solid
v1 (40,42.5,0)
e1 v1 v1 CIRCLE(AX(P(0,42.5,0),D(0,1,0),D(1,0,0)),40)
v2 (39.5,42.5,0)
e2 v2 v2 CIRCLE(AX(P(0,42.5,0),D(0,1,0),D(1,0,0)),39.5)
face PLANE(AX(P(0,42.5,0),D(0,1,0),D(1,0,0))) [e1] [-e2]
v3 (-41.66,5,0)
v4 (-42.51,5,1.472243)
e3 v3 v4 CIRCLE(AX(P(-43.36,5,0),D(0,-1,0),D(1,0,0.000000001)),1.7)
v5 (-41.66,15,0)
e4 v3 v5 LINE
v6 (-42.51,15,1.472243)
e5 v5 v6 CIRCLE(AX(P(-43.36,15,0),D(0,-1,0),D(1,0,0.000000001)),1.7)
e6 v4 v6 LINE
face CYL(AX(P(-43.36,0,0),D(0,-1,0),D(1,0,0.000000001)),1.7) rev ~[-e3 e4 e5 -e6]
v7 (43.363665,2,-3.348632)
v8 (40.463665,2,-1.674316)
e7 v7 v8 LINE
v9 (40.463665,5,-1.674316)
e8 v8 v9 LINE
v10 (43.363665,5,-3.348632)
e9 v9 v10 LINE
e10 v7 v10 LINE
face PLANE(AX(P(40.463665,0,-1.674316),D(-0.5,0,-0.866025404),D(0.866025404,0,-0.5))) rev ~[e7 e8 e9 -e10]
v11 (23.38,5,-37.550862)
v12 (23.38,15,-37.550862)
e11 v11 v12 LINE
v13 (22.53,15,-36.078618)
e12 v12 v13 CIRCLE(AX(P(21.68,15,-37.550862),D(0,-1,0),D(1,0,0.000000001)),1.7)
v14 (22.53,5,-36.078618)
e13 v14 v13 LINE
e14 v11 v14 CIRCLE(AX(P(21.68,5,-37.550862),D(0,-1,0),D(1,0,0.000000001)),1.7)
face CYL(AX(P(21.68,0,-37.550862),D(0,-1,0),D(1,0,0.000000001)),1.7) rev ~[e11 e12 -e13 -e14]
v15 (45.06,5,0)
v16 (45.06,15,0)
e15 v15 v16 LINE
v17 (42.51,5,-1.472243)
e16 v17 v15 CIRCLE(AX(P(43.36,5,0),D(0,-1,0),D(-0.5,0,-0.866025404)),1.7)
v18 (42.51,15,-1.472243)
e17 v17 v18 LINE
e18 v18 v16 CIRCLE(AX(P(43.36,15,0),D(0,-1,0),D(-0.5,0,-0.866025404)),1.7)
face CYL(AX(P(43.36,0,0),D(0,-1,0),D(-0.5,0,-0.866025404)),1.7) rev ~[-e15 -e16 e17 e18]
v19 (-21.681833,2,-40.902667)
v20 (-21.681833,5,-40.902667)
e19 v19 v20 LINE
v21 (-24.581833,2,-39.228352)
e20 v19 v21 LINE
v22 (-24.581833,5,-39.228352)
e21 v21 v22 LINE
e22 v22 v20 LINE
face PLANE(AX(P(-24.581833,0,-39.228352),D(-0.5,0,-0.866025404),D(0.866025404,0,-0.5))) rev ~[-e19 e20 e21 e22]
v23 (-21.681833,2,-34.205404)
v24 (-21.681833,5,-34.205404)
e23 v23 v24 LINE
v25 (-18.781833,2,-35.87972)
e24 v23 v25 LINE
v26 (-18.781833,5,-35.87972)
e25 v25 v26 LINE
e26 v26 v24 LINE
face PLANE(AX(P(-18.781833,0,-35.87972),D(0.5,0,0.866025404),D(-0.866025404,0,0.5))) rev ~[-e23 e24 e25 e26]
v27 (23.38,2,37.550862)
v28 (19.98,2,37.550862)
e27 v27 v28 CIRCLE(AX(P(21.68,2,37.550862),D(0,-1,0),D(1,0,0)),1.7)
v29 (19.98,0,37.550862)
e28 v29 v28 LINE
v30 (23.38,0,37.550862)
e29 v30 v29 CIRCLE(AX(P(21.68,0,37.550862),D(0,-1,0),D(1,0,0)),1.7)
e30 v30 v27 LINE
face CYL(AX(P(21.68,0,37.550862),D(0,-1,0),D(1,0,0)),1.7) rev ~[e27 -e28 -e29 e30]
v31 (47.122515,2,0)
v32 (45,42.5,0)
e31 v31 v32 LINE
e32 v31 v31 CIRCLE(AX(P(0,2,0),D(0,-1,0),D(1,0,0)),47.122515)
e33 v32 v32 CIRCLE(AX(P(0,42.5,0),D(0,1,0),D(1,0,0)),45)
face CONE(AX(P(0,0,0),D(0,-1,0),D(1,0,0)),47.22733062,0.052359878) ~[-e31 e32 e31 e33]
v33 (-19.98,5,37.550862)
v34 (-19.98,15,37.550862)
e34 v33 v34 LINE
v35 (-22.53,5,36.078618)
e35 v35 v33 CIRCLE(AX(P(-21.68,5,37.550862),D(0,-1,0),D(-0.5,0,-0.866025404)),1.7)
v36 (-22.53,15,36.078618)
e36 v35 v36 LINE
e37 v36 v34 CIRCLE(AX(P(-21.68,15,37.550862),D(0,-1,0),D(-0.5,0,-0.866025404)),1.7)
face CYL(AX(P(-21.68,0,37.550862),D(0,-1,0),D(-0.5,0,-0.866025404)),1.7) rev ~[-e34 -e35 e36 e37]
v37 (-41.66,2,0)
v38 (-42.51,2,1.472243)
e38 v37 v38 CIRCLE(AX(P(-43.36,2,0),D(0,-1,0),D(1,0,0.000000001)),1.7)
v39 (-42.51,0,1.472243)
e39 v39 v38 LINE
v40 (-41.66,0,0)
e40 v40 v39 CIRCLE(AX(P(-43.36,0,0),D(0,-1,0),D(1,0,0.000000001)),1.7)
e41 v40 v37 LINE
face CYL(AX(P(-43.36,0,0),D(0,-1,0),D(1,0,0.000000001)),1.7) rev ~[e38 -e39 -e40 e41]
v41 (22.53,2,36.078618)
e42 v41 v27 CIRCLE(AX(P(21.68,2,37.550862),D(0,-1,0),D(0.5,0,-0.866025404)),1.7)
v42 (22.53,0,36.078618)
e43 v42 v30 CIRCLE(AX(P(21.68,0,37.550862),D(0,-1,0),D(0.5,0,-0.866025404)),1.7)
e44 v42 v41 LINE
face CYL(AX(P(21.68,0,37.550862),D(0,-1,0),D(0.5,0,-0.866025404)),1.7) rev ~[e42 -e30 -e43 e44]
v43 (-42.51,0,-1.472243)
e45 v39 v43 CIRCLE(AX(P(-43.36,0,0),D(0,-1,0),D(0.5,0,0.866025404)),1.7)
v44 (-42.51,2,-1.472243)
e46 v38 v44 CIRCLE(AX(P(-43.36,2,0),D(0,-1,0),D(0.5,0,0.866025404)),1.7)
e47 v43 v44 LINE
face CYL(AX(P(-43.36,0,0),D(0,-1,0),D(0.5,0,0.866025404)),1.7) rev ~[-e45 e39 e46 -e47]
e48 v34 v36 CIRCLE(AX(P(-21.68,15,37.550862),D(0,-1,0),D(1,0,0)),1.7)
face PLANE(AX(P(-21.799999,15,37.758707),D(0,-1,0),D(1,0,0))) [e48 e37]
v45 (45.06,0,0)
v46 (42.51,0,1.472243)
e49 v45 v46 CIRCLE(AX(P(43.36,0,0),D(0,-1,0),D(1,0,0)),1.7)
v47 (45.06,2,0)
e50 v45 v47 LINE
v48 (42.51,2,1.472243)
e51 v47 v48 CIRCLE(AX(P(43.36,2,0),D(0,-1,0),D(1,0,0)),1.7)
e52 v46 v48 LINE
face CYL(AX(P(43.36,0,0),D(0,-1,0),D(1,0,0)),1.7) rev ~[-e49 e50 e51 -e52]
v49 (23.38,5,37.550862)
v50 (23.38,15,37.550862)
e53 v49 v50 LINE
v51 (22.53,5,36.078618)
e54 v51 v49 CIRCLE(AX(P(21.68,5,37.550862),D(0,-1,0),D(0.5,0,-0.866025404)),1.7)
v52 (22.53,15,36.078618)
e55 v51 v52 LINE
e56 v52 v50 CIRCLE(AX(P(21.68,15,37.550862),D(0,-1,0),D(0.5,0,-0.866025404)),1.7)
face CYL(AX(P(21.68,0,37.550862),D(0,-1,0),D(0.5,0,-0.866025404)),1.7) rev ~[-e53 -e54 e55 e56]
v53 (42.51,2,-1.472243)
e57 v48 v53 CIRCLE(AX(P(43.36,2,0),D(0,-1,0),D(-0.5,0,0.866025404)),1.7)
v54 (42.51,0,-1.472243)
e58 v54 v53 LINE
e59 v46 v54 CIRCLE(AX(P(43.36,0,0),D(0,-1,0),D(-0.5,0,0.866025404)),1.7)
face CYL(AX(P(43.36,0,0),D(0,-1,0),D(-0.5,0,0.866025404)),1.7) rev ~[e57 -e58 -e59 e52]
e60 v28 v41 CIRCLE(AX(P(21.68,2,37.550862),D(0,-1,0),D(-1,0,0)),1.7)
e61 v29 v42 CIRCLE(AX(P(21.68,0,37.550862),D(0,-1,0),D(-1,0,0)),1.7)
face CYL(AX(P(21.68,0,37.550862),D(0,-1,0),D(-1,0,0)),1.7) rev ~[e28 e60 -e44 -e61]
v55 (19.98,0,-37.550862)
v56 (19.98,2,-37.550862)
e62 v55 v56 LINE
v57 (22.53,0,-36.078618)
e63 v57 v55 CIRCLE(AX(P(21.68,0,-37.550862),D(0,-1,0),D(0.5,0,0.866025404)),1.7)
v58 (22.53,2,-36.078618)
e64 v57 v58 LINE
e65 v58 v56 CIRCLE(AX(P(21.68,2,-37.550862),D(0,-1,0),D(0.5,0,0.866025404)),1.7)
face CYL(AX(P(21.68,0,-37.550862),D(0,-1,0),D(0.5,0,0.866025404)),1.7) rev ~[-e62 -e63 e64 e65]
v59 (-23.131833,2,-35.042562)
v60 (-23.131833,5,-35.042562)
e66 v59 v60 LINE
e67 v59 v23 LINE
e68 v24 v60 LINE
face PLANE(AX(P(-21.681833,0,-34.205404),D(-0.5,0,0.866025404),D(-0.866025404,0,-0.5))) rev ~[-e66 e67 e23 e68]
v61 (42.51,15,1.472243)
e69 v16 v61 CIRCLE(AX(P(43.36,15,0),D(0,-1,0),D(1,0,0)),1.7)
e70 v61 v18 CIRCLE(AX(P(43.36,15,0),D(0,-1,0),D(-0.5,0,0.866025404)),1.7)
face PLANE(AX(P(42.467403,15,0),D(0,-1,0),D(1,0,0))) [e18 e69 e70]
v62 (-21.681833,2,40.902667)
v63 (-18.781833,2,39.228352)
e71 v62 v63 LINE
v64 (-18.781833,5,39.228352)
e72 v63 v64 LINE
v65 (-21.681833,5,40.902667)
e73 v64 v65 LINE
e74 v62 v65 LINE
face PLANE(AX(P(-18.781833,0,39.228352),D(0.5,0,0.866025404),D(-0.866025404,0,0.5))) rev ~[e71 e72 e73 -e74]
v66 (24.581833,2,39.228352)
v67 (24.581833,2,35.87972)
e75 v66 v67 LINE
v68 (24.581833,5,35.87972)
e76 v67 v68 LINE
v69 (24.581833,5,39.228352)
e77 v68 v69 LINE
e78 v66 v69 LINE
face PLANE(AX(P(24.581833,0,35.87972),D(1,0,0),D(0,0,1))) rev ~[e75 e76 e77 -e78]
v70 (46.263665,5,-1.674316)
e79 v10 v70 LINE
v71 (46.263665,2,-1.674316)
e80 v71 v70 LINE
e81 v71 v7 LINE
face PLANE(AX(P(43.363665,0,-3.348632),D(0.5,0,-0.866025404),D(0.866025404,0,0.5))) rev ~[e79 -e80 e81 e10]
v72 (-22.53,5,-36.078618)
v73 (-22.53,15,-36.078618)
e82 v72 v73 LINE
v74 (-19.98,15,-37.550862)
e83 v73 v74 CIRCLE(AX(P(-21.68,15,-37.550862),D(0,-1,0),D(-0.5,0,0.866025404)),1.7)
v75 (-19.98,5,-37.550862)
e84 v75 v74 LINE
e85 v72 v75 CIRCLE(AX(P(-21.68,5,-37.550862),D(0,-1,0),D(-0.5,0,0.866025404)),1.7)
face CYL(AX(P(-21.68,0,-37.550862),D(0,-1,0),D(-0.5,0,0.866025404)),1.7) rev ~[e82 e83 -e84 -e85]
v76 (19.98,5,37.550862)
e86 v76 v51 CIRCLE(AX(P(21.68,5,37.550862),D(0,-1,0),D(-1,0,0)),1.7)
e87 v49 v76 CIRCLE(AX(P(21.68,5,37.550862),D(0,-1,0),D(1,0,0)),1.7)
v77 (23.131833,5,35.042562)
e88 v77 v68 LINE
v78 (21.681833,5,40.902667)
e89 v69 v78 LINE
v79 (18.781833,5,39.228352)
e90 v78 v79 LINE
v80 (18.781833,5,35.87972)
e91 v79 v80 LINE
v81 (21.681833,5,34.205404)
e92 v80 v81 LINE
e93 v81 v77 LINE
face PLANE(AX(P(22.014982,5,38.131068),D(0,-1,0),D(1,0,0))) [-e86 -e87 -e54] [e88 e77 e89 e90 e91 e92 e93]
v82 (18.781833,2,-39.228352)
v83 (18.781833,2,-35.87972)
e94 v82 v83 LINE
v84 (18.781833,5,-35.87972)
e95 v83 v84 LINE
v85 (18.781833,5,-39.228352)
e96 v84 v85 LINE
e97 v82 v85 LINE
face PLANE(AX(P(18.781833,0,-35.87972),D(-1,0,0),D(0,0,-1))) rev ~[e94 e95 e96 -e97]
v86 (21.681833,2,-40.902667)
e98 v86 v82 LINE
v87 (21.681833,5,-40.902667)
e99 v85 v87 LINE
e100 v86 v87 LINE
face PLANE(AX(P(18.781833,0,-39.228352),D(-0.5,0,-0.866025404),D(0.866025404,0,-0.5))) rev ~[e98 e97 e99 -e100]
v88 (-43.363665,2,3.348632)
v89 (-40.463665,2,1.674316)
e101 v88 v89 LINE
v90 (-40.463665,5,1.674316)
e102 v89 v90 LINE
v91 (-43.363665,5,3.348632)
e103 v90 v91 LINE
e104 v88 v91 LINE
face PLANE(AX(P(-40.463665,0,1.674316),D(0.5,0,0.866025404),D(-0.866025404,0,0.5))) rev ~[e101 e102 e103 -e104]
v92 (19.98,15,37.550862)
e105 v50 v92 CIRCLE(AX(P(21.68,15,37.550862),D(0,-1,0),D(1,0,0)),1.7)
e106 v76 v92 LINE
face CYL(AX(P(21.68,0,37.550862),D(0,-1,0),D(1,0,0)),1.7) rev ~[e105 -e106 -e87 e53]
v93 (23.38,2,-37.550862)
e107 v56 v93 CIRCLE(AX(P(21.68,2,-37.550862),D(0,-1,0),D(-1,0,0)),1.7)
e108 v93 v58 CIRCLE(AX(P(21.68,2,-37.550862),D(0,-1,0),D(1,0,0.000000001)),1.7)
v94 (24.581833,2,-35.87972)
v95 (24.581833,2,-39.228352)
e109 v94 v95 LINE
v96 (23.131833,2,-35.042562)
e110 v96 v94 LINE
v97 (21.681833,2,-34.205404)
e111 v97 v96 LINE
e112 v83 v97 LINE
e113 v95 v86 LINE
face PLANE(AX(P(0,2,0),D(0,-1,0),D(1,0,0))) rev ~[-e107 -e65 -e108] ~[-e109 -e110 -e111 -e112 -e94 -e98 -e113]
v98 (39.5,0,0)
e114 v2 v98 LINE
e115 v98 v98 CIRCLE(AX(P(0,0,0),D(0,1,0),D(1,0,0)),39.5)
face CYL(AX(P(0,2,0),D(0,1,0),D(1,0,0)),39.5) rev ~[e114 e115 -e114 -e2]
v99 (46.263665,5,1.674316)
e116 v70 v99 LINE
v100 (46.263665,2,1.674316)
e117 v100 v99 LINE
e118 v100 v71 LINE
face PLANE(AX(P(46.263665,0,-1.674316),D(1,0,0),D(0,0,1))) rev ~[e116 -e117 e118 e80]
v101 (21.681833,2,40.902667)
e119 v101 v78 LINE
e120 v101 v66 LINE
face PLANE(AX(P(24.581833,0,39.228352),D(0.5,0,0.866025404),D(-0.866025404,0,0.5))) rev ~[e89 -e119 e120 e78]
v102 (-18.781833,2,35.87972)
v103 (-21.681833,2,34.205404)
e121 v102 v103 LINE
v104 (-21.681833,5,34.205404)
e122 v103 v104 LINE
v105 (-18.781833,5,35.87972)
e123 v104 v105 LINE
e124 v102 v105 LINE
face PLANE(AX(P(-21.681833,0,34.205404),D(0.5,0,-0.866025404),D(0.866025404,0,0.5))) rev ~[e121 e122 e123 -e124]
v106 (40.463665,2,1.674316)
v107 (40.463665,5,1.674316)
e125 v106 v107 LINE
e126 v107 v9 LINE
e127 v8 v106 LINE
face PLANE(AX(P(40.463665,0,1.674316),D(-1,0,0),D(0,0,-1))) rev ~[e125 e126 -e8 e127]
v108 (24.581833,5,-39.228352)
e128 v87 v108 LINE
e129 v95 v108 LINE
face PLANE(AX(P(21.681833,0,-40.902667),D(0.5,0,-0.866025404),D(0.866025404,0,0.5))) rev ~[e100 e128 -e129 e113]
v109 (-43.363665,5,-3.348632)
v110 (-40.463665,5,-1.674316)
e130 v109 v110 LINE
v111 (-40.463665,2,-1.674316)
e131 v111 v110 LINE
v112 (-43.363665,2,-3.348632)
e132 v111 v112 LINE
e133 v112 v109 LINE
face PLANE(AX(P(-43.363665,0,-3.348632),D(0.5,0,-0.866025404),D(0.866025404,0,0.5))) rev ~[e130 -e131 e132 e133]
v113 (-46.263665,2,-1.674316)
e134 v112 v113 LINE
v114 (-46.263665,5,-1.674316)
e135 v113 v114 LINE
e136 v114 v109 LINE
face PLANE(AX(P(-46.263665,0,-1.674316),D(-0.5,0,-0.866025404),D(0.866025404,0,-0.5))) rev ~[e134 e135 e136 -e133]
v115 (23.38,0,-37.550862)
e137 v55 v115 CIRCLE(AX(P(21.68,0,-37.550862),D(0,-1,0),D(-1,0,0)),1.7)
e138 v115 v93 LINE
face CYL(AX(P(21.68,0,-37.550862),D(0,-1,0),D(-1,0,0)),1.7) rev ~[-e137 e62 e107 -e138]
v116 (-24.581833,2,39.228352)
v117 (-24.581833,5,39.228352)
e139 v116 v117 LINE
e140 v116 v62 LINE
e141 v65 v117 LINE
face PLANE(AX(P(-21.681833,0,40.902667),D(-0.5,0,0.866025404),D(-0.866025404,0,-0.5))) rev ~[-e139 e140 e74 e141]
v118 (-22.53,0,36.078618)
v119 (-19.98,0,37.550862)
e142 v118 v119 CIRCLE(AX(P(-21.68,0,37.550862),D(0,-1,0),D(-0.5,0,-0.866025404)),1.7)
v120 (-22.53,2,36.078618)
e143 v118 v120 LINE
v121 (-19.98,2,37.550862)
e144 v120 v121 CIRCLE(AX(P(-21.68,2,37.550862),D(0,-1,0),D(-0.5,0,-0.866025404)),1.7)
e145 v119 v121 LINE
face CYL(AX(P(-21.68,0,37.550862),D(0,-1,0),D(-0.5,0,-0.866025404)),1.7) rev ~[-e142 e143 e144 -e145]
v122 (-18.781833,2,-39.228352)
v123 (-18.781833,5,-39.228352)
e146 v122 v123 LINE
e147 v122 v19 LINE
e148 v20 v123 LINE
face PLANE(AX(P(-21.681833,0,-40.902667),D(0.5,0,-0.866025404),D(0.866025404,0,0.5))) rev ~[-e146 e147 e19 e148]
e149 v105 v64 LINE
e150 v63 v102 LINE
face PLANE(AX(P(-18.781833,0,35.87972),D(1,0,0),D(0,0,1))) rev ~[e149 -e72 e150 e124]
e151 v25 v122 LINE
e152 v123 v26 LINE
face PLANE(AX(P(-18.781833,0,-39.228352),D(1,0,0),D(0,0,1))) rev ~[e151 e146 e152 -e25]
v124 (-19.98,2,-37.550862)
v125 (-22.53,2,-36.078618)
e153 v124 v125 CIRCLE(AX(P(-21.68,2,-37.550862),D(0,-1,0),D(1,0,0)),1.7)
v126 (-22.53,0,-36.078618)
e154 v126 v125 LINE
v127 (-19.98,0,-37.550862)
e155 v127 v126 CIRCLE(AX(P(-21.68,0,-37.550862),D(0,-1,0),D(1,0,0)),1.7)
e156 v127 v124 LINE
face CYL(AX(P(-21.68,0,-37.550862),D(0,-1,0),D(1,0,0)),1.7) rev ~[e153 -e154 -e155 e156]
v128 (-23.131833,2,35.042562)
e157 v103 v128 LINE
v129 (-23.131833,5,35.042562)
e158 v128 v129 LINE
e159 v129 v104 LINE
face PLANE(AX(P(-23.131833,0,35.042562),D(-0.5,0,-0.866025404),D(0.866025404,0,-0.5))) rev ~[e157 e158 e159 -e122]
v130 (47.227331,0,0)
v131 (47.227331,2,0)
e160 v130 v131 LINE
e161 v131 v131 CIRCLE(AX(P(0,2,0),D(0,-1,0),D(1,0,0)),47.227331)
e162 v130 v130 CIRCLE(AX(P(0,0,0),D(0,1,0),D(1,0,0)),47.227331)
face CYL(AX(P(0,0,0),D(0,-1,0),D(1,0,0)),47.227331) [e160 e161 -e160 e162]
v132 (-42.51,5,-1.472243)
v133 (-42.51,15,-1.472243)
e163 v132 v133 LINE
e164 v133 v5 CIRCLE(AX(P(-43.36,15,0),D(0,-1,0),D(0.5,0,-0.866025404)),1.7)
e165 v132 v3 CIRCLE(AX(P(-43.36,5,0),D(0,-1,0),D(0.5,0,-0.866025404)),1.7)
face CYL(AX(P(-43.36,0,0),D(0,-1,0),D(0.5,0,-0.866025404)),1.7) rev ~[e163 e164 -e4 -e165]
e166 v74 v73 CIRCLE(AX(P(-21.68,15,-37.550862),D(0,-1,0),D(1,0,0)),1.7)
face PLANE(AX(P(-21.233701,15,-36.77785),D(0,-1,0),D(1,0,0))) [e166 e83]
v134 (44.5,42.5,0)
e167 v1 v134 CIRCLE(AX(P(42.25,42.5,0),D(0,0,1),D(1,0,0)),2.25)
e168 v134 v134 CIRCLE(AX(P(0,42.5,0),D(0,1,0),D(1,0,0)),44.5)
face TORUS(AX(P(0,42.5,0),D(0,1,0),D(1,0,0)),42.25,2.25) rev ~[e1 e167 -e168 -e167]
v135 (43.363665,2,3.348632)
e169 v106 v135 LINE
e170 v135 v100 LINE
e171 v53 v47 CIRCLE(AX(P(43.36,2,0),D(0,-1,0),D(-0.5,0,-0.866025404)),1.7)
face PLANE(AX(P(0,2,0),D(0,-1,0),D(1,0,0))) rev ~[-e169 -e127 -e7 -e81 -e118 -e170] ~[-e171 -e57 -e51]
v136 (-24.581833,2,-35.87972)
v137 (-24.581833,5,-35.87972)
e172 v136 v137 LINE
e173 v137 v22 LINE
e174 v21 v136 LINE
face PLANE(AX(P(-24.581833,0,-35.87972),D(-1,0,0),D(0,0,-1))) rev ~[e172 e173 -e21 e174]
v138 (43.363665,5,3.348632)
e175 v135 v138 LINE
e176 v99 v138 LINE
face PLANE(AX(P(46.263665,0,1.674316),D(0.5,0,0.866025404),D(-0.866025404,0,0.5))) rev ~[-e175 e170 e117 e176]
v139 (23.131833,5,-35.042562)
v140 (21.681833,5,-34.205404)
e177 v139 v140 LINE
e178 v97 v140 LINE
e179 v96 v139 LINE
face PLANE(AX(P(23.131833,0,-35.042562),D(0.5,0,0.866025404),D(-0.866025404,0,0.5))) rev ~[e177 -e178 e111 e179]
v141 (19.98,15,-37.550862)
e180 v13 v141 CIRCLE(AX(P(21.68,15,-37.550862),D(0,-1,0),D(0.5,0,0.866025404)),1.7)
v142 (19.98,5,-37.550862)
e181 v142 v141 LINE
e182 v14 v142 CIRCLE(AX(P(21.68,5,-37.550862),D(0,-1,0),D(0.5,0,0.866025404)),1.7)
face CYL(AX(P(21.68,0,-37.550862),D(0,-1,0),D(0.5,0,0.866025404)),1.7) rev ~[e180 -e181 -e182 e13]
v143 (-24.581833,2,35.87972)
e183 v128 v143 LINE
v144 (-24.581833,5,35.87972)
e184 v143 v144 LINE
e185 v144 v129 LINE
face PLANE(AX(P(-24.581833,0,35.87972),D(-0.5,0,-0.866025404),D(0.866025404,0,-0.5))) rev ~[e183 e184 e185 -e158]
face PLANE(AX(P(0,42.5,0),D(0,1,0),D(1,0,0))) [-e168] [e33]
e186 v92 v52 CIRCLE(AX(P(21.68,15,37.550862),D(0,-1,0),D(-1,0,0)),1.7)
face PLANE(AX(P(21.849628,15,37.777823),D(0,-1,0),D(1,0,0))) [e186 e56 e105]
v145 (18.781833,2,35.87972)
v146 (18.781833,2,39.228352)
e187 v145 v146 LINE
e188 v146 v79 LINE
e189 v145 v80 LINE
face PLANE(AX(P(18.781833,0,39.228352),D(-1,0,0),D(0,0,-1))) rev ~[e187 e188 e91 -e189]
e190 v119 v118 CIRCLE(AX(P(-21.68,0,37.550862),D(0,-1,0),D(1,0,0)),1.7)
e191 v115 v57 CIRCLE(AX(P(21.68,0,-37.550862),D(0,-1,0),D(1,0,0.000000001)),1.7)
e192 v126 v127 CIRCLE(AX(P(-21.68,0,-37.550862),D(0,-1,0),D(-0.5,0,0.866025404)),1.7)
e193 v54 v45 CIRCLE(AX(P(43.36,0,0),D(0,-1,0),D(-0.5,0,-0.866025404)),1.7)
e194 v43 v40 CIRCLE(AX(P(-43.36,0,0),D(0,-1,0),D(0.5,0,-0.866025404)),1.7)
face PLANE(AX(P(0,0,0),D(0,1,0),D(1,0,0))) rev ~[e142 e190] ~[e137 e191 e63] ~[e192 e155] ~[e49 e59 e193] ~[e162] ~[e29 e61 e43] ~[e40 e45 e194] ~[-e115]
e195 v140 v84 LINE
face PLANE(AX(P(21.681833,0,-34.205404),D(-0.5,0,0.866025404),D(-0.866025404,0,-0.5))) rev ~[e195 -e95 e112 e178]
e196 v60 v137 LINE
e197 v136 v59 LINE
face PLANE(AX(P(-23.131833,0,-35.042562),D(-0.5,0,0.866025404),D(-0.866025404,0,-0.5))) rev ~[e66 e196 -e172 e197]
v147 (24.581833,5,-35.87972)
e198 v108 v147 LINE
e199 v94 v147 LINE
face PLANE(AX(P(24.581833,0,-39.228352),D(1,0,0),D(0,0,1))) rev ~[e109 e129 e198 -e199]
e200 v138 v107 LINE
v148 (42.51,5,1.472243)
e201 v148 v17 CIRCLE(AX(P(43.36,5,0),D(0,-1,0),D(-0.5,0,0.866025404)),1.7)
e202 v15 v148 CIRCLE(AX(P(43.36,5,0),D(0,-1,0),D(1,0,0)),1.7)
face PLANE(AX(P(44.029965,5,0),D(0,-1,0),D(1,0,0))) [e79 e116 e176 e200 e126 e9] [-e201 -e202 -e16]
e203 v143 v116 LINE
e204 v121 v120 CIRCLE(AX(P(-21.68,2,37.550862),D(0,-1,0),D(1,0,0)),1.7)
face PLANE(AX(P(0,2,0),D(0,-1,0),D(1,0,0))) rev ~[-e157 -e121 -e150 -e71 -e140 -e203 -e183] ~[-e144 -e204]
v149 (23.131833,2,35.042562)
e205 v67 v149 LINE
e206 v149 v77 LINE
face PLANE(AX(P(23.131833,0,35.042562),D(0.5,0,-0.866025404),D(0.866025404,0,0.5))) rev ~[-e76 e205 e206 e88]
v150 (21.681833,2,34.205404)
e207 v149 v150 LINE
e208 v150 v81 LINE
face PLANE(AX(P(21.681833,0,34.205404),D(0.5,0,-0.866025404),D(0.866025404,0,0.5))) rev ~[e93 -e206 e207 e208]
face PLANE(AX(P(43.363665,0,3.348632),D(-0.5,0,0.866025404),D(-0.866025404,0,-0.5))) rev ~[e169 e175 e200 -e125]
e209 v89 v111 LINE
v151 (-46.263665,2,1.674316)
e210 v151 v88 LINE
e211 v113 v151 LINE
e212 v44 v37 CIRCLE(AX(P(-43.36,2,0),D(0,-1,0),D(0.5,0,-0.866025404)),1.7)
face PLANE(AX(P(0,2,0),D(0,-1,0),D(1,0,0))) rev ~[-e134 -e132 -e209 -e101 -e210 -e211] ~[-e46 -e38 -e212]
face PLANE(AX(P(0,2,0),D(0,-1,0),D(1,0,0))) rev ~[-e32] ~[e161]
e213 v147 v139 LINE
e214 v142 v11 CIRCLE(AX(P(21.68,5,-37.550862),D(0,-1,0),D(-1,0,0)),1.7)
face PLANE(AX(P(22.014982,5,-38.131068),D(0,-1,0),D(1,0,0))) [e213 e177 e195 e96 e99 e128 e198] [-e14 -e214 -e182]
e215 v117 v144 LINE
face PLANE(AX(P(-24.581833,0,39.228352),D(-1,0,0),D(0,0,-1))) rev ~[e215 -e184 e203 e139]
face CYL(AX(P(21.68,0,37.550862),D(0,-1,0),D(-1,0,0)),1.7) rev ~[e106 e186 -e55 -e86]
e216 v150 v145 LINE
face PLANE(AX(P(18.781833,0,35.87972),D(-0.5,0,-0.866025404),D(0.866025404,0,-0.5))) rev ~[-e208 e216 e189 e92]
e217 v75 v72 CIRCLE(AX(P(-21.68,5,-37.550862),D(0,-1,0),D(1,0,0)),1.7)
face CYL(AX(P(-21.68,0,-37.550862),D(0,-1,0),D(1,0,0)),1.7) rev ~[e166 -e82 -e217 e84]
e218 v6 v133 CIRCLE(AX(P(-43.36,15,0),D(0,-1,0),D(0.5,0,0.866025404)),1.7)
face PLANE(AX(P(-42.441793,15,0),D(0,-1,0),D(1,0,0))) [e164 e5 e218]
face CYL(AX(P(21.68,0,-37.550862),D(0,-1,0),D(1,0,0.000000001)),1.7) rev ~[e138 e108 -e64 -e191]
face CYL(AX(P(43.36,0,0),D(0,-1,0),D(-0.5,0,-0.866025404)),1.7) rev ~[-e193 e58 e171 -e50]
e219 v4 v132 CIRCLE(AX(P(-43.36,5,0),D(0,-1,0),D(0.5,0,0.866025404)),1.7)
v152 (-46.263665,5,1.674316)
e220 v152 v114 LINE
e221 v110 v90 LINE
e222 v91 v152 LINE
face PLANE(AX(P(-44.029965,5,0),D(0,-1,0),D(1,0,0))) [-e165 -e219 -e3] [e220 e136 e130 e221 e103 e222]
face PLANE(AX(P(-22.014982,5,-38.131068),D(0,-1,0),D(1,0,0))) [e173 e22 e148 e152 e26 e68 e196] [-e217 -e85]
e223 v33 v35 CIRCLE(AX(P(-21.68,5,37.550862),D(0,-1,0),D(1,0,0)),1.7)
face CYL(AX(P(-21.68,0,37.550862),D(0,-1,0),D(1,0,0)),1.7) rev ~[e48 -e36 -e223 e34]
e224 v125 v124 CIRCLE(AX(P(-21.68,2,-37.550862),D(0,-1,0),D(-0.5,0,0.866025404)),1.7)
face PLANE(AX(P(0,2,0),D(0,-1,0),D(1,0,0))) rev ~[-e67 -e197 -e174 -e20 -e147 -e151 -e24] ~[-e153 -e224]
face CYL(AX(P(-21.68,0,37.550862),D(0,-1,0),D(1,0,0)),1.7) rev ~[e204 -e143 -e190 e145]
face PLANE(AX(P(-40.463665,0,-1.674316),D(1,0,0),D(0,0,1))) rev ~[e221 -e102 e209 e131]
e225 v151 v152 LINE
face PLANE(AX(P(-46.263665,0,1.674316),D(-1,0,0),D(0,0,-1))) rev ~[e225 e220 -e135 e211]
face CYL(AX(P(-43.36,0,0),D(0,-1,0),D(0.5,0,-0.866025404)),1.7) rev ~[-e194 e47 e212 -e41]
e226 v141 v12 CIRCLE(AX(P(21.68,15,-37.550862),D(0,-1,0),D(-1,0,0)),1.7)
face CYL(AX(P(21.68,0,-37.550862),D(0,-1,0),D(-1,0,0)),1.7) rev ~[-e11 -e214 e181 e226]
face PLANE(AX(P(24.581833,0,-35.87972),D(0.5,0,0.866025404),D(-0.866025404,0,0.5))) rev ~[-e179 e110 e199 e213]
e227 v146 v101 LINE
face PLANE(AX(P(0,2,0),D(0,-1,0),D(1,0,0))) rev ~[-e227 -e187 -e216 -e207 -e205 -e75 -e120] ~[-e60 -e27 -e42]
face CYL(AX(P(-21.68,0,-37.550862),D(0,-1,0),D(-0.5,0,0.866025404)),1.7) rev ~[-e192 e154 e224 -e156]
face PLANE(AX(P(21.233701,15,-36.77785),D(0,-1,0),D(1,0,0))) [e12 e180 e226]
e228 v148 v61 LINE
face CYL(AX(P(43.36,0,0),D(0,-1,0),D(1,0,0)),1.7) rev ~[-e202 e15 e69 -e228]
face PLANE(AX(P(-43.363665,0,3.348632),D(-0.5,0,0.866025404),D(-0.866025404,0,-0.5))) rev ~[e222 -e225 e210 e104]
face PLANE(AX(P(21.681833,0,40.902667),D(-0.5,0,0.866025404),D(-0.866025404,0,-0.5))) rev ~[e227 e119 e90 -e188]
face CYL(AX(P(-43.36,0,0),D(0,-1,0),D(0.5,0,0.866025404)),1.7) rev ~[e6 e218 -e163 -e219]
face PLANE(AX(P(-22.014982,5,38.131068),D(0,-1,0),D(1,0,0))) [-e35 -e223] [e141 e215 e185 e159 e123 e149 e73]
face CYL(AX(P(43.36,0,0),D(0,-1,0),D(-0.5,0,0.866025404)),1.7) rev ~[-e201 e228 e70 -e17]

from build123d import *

# Parameters (mm, degrees)
SKETCH1_R            = 45
BOSS_EXTRUDE1_DEPTH  = 42.5
SKETCH2_R            = 39.5
CUT_EXTRUDE1_DEPTH   = 148
DRAFT2_ANGLE         = 3
CUT_EXTRUDE2_DEPTH   = 5
SKETCH7_R            = 47.22733062
BOSS_EXTRUDE2_DEPTH  = 2
SKETCH8_R            = 39.5
CUT_EXTRUDE3_DEPTH   = 66
CUT_EXTRUDE4_DEPTH   = 15
CUT_SWEEP1_PROFILE_R = 2.25


with BuildPart() as part:
    # Sketch1 → Boss-Extrude1 (new body)
    with BuildSketch(Plane(origin=(0, 0, 0), x_dir=(1, 0, 0), z_dir=(0, 1, 0))):
        Circle(SKETCH1_R)
    extrude(amount=BOSS_EXTRUDE1_DEPTH)

    # Sketch2 → Cut-Extrude1 (cut)
    with BuildSketch(Plane(origin=(0, 42.5, 0), x_dir=(1, 0, 0), z_dir=(0, 1, 0))):
        Circle(SKETCH2_R)
    extrude(amount=-CUT_EXTRUDE1_DEPTH, mode=Mode.SUBTRACT)

    # Draft2
    draft2_faces = [part.faces().sort_by_distance(p)[0] for p in [
        (-45, 21.25, 0),
    ]]
    draft(draft2_faces, Plane.ZX.offset(42.5), DRAFT2_ANGLE)

    # Sketch6 → Cut-Extrude2 (cut)
    with BuildSketch(Plane.XZ):
        Polygon((-24.581832655, 35.879719979), (-23.131832655, 35.042562088), (-21.681832655, 37.554035759), (-18.781832655, 37.554035759), (-18.781832655, 39.22835154), (-21.681832655, 40.902667321), (-24.581832655, 39.22835154), align=None)
        Polygon((18.781832655, 39.22835154), (18.781832655, 37.554035759), (21.681832655, 37.554035759), (23.131832655, 35.042562088), (24.581832655, 35.879719979), (24.581832655, 39.22835154), (21.681832655, 40.902667321), align=None)
        Polygon((43.36366531, 0), (41.91366531, -2.511473671), (43.36366531, -3.348631561), (46.26366531, -1.674315781), (46.26366531, 1.674315781), (43.36366531, 3.348631561), (41.91366531, 2.511473671), align=None)
        Polygon((21.681832655, -37.554035759), (18.781832655, -37.554035759), (18.781832655, -39.22835154), (21.681832655, -40.902667321), (24.581832655, -39.22835154), (24.581832655, -35.879719979), (23.131832655, -35.042562088), align=None)
        Polygon((-21.681832655, -37.554035759), (-23.131832655, -35.042562088), (-24.581832655, -35.879719979), (-24.581832655, -39.22835154), (-21.681832655, -40.902667321), (-18.781832655, -39.22835154), (-18.781832655, -37.554035759), align=None)
        Polygon((-41.91366531, -2.511473671), (-43.36366531, 0), (-41.91366531, 2.511473671), (-43.36366531, 3.348631561), (-46.26366531, 1.674315781), (-46.26366531, -1.674315781), (-43.36366531, -3.348631561), align=None)
        Polygon((-41.91366531, 2.511473671), (-43.36366531, 0), (-41.91366531, -2.511473671), (-40.46366531, -1.674315781), (-40.46366531, 1.674315781), align=None)
        Polygon((-21.681832655, 37.554035759), (-23.131832655, 35.042562088), (-21.681832655, 34.205404198), (-18.781832655, 35.879719979), (-18.781832655, 37.554035759), align=None)
        Polygon((21.681832655, 37.554035759), (18.781832655, 37.554035759), (18.781832655, 35.879719979), (21.681832655, 34.205404198), (23.131832655, 35.042562088), align=None)
        Polygon((40.46366531, -1.674315781), (41.91366531, -2.511473671), (43.36366531, 0), (41.91366531, 2.511473671), (40.46366531, 1.674315781), align=None)
        Polygon((18.781832655, -35.879719979), (18.781832655, -37.554035759), (21.681832655, -37.554035759), (23.131832655, -35.042562088), (21.681832655, -34.205404198), align=None)
        Polygon((-21.681832655, -34.205404198), (-23.131832655, -35.042562088), (-21.681832655, -37.554035759), (-18.781832655, -37.554035759), (-18.781832655, -35.879719979), align=None)
    extrude(amount=-CUT_EXTRUDE2_DEPTH, mode=Mode.SUBTRACT)

    # Sketch7 → Boss-Extrude2 (add)
    with BuildSketch(Plane.XZ):
        Circle(SKETCH7_R)
    extrude(amount=-BOSS_EXTRUDE2_DEPTH)

    # Sketch8 → Cut-Extrude3 (cut)
    with BuildSketch(Plane(origin=(0, 2, 0), x_dir=(1, 0, 0), z_dir=(0, 1, 0))):
        Circle(SKETCH8_R)
    extrude(amount=-CUT_EXTRUDE3_DEPTH, mode=Mode.SUBTRACT)

    # Sketch9 → Cut-Extrude4 (cut)
    with BuildSketch(Plane.XZ):
        with BuildLine():
            Line((-42.51, 1.472243186), (-43.36, 0))
            Line((-43.36, 0), (-42.51, -1.472243186))
            ThreePointArc((-42.51, -1.472243186), (-41.887756814, -0.85), (-41.66, 0))
            ThreePointArc((-41.66, 0), (-41.887756814, 0.85), (-42.51, 1.472243186))
        make_face()
        with BuildLine():
            Line((-42.51, -1.472243186), (-43.36, 0))
            Line((-43.36, 0), (-42.51, 1.472243186))
            ThreePointArc((-42.51, 1.472243186), (-45.06, 0), (-42.51, -1.472243186))
        make_face()
        with BuildLine():
            ThreePointArc((-19.98, 37.550861508), (-22.53, 39.023104695), (-22.53, 36.078618322))
            Line((-22.53, 36.078618322), (-21.68, 37.550861508))
            Line((-21.68, 37.550861508), (-19.98, 37.550861508))
        make_face()
        with BuildLine():
            Line((-21.68, 37.550861508), (-22.53, 36.078618322))
            ThreePointArc((-22.53, 36.078618322), (-20.83, 36.078618322), (-19.98, 37.550861508))
            Line((-19.98, 37.550861508), (-21.68, 37.550861508))
        make_face()
        with BuildLine():
            ThreePointArc((23.38, 37.550861508), (21.68, 39.250861508), (19.98, 37.550861508))
            Line((19.98, 37.550861508), (21.68, 37.550861508))
            Line((21.68, 37.550861508), (22.53, 36.078618322))
            ThreePointArc((22.53, 36.078618322), (23.152243186, 36.700861508), (23.38, 37.550861508))
        make_face()
        with BuildLine():
            Line((21.68, 37.550861508), (19.98, 37.550861508))
            ThreePointArc((19.98, 37.550861508), (20.83, 36.078618322), (22.53, 36.078618322))
            Line((22.53, 36.078618322), (21.68, 37.550861508))
        make_face()
        with BuildLine():
            ThreePointArc((42.51, 1.472243186), (41.66, 0), (42.51, -1.472243186))
            Line((42.51, -1.472243186), (43.36, 0))
            Line((43.36, 0), (42.51, 1.472243186))
        make_face()
        with BuildLine():
            Line((43.36, 0), (42.51, -1.472243186))
            ThreePointArc((42.51, -1.472243186), (44.21, -1.472243186), (45.06, 0))
            ThreePointArc((45.06, 0), (44.21, 1.472243186), (42.51, 1.472243186))
            Line((42.51, 1.472243186), (43.36, 0))
        make_face()
        with BuildLine():
            ThreePointArc((22.53, -36.078618322), (20.83, -36.078618322), (19.98, -37.550861508))
            Line((19.98, -37.550861508), (21.68, -37.550861508))
            Line((21.68, -37.550861508), (22.53, -36.078618322))
        make_face()
        with BuildLine():
            Line((21.68, -37.550861508), (19.98, -37.550861508))
            ThreePointArc((19.98, -37.550861508), (21.68, -39.250861508), (23.38, -37.550861508))
            ThreePointArc((23.38, -37.550861508), (23.152243186, -36.700861508), (22.53, -36.078618322))
            Line((22.53, -36.078618322), (21.68, -37.550861508))
        make_face()
        with BuildLine():
            ThreePointArc((-19.98, -37.550861508), (-20.83, -36.078618322), (-22.53, -36.078618322))
            Line((-22.53, -36.078618322), (-21.68, -37.550861508))
            Line((-21.68, -37.550861508), (-19.98, -37.550861508))
        make_face()
        with BuildLine():
            Line((-21.68, -37.550861508), (-22.53, -36.078618322))
            ThreePointArc((-22.53, -36.078618322), (-22.53, -39.023104695), (-19.98, -37.550861508))
            Line((-19.98, -37.550861508), (-21.68, -37.550861508))
        make_face()
    extrude(amount=-CUT_EXTRUDE4_DEPTH, mode=Mode.SUBTRACT)

    # Cut-Sweep1: sweep along a path in Sketch10
    with BuildLine(Plane(origin=(0, 42.5, 0), x_dir=(1, 0, 0), z_dir=(0, 1, 0))) as cut_sweep1_path:
        CenterArc((0, 0), 42.25, 0, 360)
    # Cut-Sweep1 profile (on start of the path) → Cut-Sweep1 (sweep, cut)
    with BuildSketch(Plane(origin=(42.25, 42.5, 0), x_dir=(-1, 0, 0), z_dir=(0, 0, -1))):
        Circle(CUT_SWEEP1_PROFILE_R)
    sweep(path=cut_sweep1_path.line, mode=Mode.SUBTRACT)


solid = part.part
